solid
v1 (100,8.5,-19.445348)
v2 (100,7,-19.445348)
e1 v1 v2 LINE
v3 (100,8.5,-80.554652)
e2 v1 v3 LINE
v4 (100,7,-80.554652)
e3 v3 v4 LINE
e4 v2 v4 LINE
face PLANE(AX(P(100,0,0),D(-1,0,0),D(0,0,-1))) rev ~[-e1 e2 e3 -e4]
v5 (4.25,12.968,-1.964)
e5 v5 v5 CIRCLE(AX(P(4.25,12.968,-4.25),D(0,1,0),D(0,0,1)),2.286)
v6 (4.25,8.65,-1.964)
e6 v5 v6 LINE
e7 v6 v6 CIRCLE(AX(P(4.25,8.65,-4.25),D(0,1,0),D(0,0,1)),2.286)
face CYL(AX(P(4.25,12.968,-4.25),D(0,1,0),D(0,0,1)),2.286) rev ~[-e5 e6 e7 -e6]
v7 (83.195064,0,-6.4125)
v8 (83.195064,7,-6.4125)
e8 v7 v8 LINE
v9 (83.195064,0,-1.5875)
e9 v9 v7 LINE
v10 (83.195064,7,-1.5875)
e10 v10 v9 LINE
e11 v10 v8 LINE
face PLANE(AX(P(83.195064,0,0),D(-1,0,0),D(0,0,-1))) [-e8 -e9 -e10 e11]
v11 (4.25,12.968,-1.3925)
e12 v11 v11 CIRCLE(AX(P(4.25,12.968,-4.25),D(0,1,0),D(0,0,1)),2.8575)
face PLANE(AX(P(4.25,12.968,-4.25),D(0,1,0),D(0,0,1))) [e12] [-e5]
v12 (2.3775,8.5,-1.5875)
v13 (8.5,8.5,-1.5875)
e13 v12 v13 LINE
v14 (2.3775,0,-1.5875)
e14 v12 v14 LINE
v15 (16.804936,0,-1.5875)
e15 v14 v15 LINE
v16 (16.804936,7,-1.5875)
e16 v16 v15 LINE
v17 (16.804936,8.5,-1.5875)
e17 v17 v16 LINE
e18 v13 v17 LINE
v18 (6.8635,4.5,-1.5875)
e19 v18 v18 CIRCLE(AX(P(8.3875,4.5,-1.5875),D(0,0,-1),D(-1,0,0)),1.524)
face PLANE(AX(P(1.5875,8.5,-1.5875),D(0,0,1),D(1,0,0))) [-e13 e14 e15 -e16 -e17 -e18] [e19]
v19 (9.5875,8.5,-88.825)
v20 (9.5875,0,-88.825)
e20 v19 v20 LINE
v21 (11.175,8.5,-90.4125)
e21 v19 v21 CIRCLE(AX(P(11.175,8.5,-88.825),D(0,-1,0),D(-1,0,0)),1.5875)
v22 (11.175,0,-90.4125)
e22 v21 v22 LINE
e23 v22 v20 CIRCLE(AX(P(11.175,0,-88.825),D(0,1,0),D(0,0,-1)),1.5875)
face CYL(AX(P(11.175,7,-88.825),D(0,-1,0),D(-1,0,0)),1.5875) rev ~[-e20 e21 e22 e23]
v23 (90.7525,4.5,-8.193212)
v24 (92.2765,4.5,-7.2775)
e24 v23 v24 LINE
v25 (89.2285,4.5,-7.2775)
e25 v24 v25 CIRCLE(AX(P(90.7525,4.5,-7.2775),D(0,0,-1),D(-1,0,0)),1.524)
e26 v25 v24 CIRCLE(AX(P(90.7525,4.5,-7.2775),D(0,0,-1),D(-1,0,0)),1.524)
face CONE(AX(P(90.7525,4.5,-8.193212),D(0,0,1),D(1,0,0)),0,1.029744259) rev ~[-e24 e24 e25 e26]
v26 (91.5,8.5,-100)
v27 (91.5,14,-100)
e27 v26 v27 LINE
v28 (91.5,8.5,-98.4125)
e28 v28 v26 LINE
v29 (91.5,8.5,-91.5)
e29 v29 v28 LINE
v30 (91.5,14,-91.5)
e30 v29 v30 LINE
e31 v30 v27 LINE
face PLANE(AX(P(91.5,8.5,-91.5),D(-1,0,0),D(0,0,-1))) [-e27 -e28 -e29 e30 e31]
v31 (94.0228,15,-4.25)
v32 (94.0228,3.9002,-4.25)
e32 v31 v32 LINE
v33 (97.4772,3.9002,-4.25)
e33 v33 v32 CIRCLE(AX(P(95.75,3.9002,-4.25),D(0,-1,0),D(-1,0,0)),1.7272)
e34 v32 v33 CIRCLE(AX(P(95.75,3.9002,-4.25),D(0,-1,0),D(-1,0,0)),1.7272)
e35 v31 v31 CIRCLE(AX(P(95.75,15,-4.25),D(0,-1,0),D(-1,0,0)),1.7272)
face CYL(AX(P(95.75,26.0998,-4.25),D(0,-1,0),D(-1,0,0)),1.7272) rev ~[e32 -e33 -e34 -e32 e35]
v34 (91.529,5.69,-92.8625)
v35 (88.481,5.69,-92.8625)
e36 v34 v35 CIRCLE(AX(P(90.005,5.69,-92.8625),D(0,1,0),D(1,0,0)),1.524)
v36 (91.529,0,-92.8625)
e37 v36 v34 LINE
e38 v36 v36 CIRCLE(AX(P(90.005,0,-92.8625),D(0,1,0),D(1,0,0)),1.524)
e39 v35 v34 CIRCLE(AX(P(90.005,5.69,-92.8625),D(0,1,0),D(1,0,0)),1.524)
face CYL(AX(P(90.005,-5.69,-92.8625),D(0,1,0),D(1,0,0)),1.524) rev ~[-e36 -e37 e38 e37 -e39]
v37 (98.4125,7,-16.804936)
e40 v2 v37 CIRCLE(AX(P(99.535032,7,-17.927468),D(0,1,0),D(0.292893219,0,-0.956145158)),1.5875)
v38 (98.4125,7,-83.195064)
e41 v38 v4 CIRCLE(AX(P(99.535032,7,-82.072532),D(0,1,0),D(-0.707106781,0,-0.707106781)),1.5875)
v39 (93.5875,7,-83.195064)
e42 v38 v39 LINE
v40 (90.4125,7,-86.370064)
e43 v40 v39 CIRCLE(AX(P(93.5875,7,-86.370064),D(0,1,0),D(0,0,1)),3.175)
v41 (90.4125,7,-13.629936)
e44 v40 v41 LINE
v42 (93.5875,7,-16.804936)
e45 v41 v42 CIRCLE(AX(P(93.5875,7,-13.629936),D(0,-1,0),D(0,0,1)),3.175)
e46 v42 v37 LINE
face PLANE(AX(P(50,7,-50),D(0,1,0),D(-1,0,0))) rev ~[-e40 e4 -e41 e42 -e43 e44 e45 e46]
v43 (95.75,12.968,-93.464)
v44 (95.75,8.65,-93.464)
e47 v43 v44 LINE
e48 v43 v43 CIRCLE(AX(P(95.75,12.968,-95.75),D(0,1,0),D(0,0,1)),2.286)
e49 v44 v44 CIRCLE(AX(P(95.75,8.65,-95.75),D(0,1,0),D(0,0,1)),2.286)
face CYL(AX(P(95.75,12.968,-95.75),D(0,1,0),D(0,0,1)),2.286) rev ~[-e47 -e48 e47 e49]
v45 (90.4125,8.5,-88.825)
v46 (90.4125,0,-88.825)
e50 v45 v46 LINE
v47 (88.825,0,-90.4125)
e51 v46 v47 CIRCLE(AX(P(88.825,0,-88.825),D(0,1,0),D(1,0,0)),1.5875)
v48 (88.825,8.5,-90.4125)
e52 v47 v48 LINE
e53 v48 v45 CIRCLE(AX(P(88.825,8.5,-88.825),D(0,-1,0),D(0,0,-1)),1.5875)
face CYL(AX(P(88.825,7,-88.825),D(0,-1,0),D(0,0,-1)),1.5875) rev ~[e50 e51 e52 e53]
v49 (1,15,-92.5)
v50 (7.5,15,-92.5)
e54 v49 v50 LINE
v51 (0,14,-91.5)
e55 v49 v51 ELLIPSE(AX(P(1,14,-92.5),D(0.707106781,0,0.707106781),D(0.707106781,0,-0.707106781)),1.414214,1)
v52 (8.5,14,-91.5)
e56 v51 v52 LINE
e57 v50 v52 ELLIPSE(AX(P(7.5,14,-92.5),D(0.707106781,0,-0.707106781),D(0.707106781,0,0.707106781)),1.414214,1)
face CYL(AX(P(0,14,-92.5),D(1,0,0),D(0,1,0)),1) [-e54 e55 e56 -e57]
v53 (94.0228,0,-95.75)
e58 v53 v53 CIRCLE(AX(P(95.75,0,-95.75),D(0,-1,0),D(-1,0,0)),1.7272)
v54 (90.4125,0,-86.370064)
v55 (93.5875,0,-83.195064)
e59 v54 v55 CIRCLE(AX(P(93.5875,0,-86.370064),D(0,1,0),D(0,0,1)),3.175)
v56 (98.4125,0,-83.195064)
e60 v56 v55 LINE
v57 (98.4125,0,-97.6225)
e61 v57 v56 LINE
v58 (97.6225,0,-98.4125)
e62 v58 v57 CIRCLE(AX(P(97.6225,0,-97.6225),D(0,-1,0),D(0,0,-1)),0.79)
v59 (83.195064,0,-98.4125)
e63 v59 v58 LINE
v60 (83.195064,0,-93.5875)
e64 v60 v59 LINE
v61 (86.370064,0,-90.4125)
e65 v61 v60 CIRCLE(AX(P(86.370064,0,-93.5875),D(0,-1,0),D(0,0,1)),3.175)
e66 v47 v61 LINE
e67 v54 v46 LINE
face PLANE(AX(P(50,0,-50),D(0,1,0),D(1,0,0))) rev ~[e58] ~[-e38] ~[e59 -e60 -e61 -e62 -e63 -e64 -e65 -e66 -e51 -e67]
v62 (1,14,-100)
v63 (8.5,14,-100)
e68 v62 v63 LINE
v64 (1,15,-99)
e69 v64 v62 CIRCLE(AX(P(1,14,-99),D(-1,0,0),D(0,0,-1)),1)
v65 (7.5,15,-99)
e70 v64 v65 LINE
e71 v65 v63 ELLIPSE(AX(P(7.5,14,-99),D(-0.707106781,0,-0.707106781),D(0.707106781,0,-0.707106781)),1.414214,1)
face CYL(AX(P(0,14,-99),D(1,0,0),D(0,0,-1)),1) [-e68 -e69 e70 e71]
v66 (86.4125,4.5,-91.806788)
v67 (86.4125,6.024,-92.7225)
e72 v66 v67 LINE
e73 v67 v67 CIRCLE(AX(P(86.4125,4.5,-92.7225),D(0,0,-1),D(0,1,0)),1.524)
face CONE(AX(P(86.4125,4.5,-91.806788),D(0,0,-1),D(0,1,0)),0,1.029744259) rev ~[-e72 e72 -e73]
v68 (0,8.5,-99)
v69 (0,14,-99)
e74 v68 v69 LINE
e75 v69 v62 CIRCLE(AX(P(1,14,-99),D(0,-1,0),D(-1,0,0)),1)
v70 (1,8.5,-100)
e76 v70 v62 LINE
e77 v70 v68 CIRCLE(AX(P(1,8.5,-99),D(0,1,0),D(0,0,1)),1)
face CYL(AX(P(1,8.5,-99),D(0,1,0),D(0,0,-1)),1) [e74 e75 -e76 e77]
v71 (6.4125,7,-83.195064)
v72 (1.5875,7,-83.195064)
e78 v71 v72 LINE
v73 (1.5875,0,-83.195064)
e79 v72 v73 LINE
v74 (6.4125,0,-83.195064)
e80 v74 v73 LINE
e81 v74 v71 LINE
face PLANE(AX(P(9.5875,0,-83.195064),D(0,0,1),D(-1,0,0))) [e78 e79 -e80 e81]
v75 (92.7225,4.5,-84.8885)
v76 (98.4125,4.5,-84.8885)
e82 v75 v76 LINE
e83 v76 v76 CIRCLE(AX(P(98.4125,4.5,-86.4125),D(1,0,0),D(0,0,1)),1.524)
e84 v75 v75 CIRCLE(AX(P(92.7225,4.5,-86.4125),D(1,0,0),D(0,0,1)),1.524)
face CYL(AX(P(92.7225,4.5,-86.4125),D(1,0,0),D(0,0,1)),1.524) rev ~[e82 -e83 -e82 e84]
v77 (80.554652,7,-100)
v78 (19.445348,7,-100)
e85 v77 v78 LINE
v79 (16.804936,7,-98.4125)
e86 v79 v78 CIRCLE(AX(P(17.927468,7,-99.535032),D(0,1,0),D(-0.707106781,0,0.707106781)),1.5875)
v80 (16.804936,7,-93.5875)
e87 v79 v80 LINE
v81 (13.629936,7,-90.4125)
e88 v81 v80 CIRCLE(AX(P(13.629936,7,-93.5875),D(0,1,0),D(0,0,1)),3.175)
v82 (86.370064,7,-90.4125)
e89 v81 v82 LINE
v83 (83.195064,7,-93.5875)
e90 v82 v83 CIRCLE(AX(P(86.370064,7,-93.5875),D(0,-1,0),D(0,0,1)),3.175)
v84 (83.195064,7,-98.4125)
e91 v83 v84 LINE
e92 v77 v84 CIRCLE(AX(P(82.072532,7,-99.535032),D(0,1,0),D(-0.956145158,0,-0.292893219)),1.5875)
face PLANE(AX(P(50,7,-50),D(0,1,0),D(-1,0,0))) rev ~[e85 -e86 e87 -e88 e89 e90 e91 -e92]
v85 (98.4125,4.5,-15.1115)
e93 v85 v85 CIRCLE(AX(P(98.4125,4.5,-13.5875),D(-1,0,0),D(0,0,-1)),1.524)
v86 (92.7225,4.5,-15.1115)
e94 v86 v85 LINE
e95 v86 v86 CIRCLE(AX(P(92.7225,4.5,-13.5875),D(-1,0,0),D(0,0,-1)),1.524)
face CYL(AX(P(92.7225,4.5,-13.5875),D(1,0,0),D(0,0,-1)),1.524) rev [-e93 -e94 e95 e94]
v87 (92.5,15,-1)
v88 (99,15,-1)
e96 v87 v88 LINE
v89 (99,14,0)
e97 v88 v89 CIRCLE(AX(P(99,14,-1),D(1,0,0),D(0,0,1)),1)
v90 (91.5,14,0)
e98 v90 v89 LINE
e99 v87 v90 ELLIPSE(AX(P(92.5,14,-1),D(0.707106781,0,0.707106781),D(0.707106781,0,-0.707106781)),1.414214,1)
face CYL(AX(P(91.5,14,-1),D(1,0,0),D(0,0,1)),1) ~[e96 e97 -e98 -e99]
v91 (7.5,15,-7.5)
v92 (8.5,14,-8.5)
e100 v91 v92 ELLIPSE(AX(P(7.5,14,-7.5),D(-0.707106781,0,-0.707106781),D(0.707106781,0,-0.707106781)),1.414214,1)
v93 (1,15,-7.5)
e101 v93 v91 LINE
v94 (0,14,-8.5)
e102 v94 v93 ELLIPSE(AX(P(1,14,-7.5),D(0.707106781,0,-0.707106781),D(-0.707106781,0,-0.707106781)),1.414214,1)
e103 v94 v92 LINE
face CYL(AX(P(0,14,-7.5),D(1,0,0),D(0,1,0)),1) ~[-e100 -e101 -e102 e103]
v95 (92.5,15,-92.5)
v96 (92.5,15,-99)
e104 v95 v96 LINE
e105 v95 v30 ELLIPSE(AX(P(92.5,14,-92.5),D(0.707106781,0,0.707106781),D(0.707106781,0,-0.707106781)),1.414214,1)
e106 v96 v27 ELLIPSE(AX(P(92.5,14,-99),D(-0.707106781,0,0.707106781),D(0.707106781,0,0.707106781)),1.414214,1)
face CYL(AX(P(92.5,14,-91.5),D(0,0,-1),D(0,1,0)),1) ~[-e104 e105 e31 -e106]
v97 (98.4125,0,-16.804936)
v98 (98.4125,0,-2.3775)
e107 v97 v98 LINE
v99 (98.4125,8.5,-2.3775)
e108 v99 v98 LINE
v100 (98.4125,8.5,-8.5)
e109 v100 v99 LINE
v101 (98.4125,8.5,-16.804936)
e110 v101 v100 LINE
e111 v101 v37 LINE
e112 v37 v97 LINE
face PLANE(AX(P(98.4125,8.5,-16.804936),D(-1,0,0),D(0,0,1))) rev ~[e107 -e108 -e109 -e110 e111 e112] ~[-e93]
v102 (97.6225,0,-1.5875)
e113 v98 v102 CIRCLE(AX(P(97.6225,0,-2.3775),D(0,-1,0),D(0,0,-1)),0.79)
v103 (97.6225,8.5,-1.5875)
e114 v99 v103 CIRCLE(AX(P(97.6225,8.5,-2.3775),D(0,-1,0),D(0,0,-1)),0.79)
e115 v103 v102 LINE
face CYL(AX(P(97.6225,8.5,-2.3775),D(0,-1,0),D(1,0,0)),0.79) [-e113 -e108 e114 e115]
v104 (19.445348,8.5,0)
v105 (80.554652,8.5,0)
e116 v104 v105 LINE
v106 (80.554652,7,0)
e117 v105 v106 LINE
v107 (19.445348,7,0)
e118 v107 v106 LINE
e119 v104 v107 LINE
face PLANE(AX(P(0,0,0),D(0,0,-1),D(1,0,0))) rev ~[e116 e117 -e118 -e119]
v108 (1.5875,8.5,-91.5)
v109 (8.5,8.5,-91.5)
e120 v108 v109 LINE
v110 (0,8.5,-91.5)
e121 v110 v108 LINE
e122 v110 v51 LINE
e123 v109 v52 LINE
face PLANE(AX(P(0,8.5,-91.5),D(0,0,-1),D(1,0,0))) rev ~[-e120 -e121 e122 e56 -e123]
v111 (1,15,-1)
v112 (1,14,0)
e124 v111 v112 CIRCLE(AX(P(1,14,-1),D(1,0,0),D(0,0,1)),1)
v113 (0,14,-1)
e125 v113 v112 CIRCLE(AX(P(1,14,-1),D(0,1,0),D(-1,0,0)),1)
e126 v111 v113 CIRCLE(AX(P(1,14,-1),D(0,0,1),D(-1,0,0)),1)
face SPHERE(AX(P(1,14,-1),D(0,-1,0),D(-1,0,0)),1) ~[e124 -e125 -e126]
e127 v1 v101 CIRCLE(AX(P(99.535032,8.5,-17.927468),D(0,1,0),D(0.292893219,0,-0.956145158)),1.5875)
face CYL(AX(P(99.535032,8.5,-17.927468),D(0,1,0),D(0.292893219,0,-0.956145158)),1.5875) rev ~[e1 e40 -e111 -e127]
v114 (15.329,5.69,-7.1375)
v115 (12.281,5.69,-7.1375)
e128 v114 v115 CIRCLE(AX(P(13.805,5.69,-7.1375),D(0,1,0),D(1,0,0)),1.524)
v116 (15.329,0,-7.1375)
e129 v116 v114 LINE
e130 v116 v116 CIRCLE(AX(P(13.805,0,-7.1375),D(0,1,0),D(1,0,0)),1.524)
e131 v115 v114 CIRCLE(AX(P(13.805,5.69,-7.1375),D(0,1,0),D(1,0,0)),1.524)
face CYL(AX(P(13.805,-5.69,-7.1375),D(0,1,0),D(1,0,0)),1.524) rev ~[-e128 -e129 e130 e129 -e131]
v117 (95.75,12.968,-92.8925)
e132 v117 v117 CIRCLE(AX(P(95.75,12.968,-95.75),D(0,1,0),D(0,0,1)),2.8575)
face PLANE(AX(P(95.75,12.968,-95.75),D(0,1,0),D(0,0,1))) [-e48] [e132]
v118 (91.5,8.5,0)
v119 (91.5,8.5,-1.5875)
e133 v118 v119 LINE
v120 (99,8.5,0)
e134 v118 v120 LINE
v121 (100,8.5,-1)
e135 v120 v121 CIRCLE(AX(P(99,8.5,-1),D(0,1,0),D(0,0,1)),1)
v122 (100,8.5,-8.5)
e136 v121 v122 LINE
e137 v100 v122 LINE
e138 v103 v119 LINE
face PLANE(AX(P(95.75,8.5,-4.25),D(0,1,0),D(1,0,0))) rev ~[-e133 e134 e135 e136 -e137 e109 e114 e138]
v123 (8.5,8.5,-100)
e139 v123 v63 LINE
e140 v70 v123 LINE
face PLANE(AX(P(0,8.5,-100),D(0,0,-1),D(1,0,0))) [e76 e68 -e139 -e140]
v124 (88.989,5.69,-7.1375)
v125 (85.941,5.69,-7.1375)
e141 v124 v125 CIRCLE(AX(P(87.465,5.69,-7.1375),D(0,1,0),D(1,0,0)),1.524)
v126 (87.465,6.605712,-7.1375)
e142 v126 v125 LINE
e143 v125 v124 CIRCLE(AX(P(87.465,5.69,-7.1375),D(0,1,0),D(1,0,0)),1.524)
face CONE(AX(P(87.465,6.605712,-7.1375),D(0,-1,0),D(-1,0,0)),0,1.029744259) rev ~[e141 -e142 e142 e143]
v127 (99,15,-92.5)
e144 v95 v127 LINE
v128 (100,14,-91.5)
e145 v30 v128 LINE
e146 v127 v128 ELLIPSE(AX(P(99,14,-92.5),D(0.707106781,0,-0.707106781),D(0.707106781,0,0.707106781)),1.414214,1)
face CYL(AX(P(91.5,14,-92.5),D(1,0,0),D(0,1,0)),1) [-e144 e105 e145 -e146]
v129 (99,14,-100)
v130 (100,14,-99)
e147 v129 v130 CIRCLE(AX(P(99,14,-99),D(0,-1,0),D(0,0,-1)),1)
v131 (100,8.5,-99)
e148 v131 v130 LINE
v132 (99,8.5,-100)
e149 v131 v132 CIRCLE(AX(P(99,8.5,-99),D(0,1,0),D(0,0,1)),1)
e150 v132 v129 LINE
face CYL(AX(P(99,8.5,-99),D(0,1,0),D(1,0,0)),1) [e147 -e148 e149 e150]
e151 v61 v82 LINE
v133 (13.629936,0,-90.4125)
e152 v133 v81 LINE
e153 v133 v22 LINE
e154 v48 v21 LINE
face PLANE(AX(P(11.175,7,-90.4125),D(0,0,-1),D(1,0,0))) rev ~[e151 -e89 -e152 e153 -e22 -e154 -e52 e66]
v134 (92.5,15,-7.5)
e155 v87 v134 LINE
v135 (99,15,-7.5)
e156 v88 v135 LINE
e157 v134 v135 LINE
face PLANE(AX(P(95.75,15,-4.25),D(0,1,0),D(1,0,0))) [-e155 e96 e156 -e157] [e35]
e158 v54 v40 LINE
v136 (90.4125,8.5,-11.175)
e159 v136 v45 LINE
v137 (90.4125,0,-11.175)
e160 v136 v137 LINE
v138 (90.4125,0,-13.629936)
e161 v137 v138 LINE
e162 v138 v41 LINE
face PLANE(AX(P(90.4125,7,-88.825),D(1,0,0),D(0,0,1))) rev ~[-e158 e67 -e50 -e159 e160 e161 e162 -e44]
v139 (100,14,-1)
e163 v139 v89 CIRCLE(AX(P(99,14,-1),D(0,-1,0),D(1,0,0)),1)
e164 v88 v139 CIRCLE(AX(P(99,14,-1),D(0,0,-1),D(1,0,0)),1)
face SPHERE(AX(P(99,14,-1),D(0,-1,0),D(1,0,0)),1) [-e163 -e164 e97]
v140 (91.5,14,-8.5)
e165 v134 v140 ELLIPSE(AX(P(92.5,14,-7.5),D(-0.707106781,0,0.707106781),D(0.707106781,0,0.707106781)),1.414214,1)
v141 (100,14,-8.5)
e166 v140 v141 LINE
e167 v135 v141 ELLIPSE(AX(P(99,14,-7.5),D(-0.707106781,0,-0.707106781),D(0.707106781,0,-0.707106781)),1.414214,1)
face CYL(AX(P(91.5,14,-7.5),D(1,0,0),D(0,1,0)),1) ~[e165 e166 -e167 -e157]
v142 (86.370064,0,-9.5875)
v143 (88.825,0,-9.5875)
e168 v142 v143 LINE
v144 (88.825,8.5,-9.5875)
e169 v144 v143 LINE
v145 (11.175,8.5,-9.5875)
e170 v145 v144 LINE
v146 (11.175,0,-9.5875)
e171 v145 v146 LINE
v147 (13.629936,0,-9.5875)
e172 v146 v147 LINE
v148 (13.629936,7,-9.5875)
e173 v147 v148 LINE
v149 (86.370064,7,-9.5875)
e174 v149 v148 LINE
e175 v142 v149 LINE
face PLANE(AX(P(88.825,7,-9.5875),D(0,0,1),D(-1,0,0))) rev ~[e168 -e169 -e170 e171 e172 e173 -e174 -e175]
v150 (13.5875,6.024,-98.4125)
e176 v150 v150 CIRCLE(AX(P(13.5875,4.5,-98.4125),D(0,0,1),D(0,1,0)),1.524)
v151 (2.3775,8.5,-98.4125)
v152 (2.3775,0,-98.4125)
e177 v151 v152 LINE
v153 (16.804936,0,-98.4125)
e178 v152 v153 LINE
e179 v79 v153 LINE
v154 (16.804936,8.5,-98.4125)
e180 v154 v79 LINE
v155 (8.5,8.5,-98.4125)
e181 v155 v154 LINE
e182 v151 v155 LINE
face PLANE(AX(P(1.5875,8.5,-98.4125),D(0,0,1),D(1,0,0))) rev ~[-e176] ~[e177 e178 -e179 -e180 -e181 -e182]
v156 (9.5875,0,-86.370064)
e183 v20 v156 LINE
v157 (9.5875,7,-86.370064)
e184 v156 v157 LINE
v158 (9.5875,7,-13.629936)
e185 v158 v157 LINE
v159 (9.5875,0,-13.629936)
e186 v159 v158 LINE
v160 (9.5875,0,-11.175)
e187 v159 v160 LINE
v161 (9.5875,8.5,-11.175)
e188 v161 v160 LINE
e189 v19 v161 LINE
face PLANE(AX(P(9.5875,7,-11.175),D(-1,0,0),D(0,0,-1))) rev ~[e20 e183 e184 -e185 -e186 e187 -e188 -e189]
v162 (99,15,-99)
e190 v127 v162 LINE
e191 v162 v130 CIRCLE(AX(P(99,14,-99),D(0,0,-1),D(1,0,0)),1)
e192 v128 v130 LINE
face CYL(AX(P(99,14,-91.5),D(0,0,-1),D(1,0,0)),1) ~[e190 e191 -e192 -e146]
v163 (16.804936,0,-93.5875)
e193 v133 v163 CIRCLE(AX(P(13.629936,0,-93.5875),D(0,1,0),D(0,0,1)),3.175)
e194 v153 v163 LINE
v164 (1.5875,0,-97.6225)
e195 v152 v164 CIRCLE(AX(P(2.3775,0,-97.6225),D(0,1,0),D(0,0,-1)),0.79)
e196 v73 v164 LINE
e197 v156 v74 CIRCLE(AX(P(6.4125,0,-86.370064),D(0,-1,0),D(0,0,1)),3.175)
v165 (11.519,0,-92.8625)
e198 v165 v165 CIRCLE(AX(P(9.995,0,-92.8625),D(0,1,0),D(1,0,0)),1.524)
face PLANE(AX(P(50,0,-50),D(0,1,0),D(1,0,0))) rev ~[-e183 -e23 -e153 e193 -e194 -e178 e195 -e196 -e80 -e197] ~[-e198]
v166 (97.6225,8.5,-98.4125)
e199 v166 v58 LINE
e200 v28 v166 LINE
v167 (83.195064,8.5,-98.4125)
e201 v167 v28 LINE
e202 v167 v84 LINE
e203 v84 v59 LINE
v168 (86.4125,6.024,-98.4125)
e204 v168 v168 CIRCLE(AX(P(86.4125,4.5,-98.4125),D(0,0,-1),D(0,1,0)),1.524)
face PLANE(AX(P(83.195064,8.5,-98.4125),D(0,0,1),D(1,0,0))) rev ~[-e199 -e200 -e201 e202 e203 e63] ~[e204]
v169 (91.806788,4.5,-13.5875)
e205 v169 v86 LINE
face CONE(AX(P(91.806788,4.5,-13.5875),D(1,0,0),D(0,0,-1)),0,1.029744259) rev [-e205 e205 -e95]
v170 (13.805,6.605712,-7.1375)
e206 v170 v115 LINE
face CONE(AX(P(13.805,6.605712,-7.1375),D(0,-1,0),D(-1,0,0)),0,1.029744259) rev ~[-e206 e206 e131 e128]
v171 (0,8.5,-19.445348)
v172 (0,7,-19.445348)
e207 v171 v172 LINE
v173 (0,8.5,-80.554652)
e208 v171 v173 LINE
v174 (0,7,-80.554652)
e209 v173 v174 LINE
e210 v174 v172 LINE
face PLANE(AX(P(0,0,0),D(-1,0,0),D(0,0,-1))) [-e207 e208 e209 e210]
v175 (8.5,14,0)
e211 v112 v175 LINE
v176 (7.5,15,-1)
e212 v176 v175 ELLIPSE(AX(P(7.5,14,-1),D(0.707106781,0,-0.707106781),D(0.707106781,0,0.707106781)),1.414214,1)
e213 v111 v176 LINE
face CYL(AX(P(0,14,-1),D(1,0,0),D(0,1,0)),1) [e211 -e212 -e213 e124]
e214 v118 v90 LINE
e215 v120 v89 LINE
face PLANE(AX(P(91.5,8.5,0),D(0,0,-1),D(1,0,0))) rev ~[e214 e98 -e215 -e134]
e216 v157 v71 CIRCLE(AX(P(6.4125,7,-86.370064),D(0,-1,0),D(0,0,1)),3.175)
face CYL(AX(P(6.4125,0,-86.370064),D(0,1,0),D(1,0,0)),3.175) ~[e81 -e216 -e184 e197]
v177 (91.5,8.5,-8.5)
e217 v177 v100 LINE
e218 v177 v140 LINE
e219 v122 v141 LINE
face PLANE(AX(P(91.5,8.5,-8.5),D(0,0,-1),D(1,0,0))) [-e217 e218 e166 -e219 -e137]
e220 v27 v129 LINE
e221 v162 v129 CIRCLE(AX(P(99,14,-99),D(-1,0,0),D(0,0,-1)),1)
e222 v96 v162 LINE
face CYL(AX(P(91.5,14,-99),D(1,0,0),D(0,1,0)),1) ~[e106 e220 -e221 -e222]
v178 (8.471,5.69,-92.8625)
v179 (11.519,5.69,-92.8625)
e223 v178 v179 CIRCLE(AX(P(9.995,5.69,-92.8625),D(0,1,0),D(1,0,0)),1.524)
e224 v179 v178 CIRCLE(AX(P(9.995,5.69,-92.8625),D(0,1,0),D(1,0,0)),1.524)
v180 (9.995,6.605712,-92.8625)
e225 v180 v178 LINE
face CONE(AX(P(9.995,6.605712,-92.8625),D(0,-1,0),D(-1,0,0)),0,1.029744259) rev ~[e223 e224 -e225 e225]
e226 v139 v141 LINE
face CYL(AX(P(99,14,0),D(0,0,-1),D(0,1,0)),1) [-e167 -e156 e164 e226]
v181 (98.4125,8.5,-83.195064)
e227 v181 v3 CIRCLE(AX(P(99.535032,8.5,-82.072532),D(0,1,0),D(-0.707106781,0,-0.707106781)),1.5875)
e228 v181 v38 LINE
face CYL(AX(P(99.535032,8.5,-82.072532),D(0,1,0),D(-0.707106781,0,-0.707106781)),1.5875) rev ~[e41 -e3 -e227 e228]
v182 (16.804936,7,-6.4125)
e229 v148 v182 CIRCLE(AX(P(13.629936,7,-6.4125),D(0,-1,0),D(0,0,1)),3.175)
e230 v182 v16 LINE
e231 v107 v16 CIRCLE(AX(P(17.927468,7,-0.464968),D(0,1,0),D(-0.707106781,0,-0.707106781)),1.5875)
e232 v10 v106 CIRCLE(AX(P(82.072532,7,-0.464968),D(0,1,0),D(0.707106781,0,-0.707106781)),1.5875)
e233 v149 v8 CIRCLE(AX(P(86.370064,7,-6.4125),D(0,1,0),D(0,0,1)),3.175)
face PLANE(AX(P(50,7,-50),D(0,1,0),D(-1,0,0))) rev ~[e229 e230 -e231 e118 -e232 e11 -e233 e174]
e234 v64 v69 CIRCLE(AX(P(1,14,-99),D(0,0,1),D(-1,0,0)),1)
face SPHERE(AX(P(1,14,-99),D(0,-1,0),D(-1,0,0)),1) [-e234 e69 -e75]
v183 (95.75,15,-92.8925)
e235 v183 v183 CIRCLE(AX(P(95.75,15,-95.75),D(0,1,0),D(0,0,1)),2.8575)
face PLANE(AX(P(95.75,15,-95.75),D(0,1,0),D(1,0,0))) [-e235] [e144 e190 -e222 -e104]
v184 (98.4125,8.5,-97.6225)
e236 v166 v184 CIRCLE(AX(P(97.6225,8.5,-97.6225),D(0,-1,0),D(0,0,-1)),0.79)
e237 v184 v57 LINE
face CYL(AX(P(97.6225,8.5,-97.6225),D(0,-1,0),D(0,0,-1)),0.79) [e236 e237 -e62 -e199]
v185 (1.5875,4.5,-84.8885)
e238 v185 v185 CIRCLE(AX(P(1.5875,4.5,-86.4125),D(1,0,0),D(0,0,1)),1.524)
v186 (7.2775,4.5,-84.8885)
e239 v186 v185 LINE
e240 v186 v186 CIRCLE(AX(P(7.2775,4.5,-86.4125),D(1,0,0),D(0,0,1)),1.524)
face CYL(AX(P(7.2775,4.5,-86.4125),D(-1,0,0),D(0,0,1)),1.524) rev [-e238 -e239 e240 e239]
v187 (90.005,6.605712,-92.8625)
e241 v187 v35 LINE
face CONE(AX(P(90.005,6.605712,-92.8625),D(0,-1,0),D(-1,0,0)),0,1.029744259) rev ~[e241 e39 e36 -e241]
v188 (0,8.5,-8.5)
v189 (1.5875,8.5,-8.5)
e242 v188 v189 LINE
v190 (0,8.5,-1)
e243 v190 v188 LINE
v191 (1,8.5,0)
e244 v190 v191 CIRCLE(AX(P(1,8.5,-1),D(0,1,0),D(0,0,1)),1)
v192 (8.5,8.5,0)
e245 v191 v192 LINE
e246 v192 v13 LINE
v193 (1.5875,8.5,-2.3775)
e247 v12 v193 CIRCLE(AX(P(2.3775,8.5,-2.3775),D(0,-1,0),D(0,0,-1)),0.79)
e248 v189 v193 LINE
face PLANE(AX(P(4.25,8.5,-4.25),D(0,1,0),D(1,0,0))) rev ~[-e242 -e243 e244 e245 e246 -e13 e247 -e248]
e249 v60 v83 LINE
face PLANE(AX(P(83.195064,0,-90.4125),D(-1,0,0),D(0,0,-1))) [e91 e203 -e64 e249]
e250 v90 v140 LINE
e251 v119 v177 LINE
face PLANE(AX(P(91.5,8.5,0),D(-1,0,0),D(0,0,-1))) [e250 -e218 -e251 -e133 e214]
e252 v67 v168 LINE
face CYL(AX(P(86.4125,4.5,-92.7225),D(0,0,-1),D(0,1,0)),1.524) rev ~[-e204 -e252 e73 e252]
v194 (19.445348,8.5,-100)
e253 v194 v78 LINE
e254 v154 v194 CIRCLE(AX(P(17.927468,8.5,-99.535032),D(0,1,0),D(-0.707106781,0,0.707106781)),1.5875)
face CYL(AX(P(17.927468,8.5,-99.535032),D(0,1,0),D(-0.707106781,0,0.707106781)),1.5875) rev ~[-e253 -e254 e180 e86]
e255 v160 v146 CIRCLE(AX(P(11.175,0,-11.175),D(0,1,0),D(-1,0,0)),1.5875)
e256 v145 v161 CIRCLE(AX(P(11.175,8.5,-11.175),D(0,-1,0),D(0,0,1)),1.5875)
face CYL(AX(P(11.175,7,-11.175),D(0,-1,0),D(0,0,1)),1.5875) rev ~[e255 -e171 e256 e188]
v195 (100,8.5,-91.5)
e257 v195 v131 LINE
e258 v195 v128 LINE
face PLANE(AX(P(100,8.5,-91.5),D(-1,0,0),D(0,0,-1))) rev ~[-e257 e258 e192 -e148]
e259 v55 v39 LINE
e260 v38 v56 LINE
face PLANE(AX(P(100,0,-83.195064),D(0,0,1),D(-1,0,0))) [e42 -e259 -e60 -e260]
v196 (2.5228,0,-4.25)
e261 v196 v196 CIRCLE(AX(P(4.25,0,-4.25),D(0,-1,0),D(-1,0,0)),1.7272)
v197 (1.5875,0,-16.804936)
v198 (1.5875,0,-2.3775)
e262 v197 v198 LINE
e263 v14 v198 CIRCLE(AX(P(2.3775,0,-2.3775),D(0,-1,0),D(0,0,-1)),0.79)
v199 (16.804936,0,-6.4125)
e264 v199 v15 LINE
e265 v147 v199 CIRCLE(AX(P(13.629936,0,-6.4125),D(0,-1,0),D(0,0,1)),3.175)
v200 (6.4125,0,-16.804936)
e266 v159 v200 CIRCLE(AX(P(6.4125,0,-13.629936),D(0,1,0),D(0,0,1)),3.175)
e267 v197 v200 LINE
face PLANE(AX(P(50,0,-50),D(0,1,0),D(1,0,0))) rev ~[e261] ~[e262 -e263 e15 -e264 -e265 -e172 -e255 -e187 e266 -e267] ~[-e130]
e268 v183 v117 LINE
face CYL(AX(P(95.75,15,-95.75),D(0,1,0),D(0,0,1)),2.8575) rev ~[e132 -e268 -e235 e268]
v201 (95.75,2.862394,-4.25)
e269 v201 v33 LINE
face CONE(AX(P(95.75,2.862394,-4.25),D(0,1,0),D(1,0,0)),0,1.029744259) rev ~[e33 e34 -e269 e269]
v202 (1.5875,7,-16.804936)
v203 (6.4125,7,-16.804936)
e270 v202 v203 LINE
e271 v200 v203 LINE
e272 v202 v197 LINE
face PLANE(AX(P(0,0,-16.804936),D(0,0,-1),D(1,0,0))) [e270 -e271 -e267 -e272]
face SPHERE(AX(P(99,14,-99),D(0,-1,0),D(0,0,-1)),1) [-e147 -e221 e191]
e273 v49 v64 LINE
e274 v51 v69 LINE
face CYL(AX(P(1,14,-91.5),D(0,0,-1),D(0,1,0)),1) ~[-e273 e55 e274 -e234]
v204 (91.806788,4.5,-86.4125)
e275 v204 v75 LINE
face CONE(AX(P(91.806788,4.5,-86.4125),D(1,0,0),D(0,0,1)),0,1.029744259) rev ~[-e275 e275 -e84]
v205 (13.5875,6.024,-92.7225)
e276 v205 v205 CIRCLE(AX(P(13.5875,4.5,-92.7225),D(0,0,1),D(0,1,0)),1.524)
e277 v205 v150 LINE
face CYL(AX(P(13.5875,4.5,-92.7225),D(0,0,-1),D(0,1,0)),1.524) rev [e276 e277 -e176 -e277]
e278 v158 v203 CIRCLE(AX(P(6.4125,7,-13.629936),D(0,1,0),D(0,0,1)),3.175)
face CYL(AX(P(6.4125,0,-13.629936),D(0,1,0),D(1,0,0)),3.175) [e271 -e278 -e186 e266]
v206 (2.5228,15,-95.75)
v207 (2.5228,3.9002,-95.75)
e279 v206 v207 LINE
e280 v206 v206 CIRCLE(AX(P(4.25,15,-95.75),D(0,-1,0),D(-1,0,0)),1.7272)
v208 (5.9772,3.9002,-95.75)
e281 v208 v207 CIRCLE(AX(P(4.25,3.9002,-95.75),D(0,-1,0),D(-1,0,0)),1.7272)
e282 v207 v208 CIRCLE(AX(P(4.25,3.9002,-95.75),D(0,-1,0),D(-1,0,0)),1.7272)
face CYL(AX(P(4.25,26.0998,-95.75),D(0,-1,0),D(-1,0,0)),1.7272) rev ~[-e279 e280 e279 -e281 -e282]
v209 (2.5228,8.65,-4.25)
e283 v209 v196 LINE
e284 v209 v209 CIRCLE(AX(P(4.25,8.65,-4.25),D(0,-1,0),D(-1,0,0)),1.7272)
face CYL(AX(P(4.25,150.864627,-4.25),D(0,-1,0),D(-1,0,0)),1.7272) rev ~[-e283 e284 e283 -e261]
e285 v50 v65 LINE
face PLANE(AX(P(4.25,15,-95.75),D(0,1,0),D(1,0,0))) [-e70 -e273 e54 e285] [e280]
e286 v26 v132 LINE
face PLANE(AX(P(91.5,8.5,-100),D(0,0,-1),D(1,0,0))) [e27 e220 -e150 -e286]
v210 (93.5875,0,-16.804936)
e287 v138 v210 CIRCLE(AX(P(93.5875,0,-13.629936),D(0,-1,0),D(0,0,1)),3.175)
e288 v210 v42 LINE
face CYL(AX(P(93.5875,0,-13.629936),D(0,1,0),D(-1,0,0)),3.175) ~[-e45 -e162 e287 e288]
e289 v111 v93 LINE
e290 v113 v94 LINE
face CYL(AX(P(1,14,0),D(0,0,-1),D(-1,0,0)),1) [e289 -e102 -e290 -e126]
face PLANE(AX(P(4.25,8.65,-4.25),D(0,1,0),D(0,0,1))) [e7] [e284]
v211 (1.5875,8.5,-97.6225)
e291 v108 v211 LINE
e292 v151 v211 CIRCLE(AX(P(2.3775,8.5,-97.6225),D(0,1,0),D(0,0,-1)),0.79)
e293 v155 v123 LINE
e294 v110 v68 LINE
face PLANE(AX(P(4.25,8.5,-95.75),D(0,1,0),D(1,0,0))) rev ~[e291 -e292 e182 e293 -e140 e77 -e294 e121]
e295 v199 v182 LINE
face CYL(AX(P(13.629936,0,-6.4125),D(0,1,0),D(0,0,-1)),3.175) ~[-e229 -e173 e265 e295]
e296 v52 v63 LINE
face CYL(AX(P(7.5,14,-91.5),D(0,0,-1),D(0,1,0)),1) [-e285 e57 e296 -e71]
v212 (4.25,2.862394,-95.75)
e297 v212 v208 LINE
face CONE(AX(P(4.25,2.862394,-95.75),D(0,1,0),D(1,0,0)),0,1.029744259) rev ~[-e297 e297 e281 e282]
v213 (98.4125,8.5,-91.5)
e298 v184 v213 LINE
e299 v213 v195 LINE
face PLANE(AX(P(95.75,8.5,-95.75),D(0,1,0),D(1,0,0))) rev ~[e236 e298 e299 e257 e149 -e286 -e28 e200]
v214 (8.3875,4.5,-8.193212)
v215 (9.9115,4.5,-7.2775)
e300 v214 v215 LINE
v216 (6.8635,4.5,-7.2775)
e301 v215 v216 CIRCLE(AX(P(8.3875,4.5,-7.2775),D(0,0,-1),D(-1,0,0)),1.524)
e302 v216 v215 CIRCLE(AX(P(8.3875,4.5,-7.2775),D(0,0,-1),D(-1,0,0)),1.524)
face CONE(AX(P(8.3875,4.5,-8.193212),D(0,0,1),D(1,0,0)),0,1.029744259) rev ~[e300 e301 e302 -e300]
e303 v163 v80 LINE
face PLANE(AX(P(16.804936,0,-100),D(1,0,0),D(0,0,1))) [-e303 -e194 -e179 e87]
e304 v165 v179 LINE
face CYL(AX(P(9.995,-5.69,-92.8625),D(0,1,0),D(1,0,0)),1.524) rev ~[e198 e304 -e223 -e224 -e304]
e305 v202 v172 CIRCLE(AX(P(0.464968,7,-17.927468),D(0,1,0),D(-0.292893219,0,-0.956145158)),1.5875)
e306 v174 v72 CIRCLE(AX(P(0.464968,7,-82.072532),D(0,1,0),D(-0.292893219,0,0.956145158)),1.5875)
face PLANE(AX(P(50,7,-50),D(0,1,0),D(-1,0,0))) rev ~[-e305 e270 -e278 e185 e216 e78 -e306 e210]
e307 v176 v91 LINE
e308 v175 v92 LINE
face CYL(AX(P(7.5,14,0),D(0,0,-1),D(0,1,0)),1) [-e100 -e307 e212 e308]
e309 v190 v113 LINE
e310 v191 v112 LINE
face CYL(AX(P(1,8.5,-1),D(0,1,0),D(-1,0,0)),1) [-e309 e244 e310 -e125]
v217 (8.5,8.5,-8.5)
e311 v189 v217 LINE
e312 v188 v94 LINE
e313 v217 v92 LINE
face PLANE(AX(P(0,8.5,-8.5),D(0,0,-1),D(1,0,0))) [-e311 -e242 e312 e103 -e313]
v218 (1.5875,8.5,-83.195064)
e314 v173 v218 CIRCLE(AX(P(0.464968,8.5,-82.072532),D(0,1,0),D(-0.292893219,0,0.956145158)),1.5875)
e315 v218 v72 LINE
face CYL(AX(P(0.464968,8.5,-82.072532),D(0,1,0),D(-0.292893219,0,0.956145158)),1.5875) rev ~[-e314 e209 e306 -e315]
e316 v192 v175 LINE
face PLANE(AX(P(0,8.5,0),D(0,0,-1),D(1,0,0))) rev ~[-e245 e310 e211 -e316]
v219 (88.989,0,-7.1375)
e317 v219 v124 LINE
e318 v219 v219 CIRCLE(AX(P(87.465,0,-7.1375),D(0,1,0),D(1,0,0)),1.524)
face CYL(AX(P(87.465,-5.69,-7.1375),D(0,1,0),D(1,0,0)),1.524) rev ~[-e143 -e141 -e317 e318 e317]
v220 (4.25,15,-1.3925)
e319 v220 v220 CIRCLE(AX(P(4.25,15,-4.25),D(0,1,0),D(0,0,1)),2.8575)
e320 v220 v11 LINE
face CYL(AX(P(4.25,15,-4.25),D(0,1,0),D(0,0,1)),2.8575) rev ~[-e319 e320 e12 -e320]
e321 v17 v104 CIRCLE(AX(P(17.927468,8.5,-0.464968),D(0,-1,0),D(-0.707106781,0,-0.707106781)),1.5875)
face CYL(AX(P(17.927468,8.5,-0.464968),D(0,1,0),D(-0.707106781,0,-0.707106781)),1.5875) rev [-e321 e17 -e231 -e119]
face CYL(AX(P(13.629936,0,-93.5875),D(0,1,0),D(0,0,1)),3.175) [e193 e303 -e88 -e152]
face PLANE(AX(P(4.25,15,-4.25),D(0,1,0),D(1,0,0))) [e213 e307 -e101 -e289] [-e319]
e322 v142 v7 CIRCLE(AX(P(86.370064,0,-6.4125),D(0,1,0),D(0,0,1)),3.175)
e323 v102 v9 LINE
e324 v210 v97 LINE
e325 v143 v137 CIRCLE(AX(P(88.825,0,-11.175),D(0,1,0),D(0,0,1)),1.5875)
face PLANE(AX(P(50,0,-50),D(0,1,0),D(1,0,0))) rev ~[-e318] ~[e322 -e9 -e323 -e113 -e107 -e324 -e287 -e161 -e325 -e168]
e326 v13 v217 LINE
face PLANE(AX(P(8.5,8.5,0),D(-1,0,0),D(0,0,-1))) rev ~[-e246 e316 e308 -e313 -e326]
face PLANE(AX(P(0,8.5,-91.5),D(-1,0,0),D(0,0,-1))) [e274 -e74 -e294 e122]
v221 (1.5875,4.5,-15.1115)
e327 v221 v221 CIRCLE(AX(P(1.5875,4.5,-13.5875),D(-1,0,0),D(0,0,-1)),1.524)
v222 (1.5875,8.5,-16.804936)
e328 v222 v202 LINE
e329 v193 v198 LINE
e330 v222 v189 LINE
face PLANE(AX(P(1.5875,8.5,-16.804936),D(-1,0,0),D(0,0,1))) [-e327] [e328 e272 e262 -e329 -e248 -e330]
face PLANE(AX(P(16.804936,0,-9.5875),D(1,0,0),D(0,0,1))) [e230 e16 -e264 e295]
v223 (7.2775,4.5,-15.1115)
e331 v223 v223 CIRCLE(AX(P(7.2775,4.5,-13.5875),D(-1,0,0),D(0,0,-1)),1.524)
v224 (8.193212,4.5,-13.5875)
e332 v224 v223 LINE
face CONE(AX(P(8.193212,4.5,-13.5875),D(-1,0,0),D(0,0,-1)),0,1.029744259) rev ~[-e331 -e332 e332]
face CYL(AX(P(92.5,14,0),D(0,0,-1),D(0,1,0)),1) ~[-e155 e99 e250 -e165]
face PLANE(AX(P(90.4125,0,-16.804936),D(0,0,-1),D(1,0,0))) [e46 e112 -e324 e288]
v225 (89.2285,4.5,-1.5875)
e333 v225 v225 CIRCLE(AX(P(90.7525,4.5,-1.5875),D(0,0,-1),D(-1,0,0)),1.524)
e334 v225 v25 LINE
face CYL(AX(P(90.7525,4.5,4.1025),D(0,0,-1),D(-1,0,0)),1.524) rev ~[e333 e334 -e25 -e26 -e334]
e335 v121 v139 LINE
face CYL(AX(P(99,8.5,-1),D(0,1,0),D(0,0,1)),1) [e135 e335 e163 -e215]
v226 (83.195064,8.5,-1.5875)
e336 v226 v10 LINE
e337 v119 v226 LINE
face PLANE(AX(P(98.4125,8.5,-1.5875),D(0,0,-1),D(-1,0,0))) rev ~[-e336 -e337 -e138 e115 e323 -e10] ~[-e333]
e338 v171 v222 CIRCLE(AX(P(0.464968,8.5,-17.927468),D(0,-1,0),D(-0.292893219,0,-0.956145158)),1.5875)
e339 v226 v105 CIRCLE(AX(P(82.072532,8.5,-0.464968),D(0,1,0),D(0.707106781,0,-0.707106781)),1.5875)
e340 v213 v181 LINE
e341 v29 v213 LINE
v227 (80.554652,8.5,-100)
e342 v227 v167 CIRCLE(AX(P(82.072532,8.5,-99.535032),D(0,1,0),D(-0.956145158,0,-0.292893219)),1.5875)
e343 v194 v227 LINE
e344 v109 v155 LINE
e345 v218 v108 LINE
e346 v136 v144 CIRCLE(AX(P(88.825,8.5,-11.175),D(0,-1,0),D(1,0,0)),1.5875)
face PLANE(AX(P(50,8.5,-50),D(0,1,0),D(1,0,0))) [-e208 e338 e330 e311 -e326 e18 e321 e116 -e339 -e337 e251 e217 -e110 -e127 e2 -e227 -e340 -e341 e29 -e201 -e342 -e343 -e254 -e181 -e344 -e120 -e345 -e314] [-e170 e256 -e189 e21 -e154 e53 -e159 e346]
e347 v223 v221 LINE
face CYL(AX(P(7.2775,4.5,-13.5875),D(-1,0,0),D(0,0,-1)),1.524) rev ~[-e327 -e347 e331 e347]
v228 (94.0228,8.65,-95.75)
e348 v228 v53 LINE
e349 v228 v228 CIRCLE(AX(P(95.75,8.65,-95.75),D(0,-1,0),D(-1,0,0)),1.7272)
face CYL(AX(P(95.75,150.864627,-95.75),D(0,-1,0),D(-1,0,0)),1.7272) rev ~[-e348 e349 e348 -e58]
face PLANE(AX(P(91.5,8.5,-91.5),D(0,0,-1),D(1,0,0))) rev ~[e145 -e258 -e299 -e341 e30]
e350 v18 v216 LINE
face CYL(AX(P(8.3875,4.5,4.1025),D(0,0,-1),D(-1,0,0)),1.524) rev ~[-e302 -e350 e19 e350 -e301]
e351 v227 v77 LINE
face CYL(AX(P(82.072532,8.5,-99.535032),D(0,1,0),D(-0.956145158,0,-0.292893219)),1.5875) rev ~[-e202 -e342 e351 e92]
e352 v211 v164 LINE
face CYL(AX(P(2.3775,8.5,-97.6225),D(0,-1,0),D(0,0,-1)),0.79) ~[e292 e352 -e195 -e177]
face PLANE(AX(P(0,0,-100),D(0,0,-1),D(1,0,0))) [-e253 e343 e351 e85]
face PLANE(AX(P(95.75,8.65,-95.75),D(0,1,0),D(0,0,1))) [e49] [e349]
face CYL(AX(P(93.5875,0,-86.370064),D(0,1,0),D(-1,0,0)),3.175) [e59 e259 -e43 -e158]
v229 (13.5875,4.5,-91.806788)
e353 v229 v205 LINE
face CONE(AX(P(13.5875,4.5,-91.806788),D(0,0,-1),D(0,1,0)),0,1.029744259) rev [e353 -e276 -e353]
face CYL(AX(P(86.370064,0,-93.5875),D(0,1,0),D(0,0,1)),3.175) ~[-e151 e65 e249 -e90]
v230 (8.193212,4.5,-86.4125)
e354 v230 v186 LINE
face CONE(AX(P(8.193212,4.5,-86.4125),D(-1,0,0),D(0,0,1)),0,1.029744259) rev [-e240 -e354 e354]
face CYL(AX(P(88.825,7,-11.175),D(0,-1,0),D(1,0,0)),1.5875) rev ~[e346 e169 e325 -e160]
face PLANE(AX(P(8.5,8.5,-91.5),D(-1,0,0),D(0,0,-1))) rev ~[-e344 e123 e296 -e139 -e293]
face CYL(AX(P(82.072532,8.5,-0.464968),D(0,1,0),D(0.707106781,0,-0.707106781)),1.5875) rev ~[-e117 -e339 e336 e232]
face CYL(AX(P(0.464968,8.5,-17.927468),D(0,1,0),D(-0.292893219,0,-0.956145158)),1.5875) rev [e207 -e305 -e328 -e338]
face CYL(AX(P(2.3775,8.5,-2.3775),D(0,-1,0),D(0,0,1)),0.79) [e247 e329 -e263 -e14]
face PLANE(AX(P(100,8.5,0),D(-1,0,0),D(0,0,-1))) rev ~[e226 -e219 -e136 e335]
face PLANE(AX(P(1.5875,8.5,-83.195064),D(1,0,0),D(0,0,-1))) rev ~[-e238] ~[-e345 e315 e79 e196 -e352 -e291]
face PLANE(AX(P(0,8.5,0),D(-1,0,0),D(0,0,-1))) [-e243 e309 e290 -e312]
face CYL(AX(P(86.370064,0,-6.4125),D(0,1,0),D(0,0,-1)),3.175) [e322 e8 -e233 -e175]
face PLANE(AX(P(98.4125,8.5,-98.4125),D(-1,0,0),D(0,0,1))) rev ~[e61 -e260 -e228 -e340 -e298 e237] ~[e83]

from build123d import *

# Parameters (mm, degrees)
SKETCH1_W                         = 100
SKETCH1_H                         = 100
BOSS_EXTRUDE1_DEPTH               = 8.5
CUT_EXTRUDE1_DEPTH                = 142.676568281
SKETCH3_W                         = 8.5
SKETCH3_H                         = 8.5
BOSS_EXTRUDE2_DEPTH               = 6.5
TAP_DRILL_FOR_4_HELICOIL5_D       = 3.048
TAP_DRILL_FOR_4_HELICOIL5_DEPTH   = 5.69
TAP_DRILL_FOR_4_HELICOIL5_TIP     = 0.915711583
TAP_DRILL_FOR_4_HELICOIL5_4_D     = 3.048
TAP_DRILL_FOR_4_HELICOIL5_4_DEPTH = 5.69
TAP_DRILL_FOR_4_HELICOIL5_4_TIP   = 0.915711583
CUT_EXTRUDE2_DEPTH                = 7
CUT_EXTRUDE3_DEPTH                = 142.647449677
FILLET1_R                         = 1
FILLET2_R                         = 3.175
FILLET3_R                         = 0.79
TAP_DRILL_FOR_4_HELICOIL5_5_D     = 3.048
TAP_DRILL_FOR_4_HELICOIL5_5_DEPTH = 5.69
TAP_DRILL_FOR_4_HELICOIL5_5_TIP   = 0.915711583
TAP_DRILL_FOR_8_32_TAP1_D         = 3.4544
TAP_DRILL_FOR_8_32_TAP1_DEPTH     = 11.0998
TAP_DRILL_FOR_8_32_TAP1_TIP       = 1.037806461
SKETCH27_R                        = 2.8575
CUT_EXTRUDE4_DEPTH                = 2.032
SKETCH28_R                        = 2.286
CUT_EXTRUDE5_DEPTH                = 4.318
F_4_CLEARANCE_HOLE1_D             = 3.4544


with BuildPart() as part:
    # Sketch1 → Boss-Extrude1 (new body)
    with BuildSketch(Plane(origin=(0, 0, 0), x_dir=(1, 0, 0), z_dir=(0, 1, 0))):
        with Locations((50, 50)):
            Rectangle(SKETCH1_W, SKETCH1_H)
    extrude(amount=BOSS_EXTRUDE1_DEPTH)

    # Sketch2 → Cut-Extrude1 (cut, through all)
    with BuildSketch(Plane(origin=(0, 8.5, 0), x_dir=(1, 0, 0), z_dir=(0, 1, 0))):
        with BuildLine():
            Line((19.05, 100), (0, 100))
            Line((0, 100), (0, 83.590412453))
            Line((0, 83.590412453), (0, 80.95))
            Line((0, 80.95), (0, 80.554651577))
            ThreePointArc((0, 80.554651577), (1.825498063, 81.254538032), (1.5875, 83.19506403))
            Line((1.5875, 83.19506403), (1.5875, 98.4125))
            Line((1.5875, 98.4125), (16.80493597, 98.4125))
            ThreePointArc((16.80493597, 98.4125), (18.745461968, 98.174501937), (19.445348423, 100))
            Line((19.445348423, 100), (19.05, 100))
        make_face()
        with BuildLine():
            Line((80.95, 100), (80.554651577, 100))
            ThreePointArc((80.554651577, 100), (81.254538032, 98.174501937), (83.19506403, 98.4125))
            Line((83.19506403, 98.4125), (98.4125, 98.4125))
            Line((98.4125, 98.4125), (98.4125, 83.19506403))
            ThreePointArc((98.4125, 83.19506403), (98.174501937, 81.254538032), (100, 80.554651577))
            Line((100, 80.554651577), (100, 80.95))
            Line((100, 80.95), (100, 83.590412453))
            Line((100, 83.590412453), (100, 100))
            Line((100, 100), (80.95, 100))
        make_face()
        with BuildLine():
            Line((1.5875, 1.5875), (16.80493597, 1.5875))
            ThreePointArc((16.80493597, 1.5875), (18.745461968, 1.825498063), (19.445348423, 0))
            Line((19.445348423, 0), (19.05, 0))
            Line((19.05, 0), (0, 0))
            Line((0, 0), (0, 19.05))
            Line((0, 19.05), (0, 19.445348423))
            ThreePointArc((0, 19.445348423), (1.825498063, 18.745461968), (1.5875, 16.80493597))
            Line((1.5875, 16.80493597), (1.5875, 1.5875))
        make_face()
        with BuildLine():
            Line((98.4125, 1.5875), (83.19506403, 1.5875))
            ThreePointArc((83.19506403, 1.5875), (81.254538032, 1.825498063), (80.554651577, 0))
            Line((80.554651577, 0), (80.95, 0))
            Line((80.95, 0), (100, 0))
            Line((100, 0), (100, 19.05))
            Line((100, 19.05), (100, 19.445348423))
            ThreePointArc((100, 19.445348423), (98.174501937, 18.745461968), (98.4125, 16.80493597))
            Line((98.4125, 16.80493597), (98.4125, 1.5875))
        make_face()
    extrude(amount=-CUT_EXTRUDE1_DEPTH, mode=Mode.SUBTRACT)

    # Sketch3 → Boss-Extrude2 (add)
    with BuildSketch(Plane(origin=(0, 8.5, 0), x_dir=(1, 0, 0), z_dir=(0, 1, 0))):
        with Locations((4.25, 4.25)):
            Rectangle(SKETCH3_W, SKETCH3_H)
        with Locations((95.75, 4.25)):
            Rectangle(SKETCH3_W, SKETCH3_H)
        with Locations((95.75, 95.75)):
            Rectangle(SKETCH3_W, SKETCH3_H)
        with Locations((4.25, 95.75)):
            Rectangle(SKETCH3_W, SKETCH3_H)
    extrude(amount=BOSS_EXTRUDE2_DEPTH)

    # Tap Drill for _4 Helicoil5
    with Locations(Plane(origin=(0, 0, 0), x_dir=(-1, 0, 0), z_dir=(0, -1, 0))):
        with Locations((-87.465, 7.1375), (-90.005, 92.8625), (-13.805, 7.1375), (-9.995, 92.8625)):
            Hole(TAP_DRILL_FOR_4_HELICOIL5_D / 2, depth=TAP_DRILL_FOR_4_HELICOIL5_DEPTH)
            with Locations((0, 0, -(TAP_DRILL_FOR_4_HELICOIL5_DEPTH + TAP_DRILL_FOR_4_HELICOIL5_TIP / 2))):  # 118° drill point
                Cone(0, TAP_DRILL_FOR_4_HELICOIL5_D / 2, TAP_DRILL_FOR_4_HELICOIL5_TIP, mode=Mode.SUBTRACT)

    # Sketch18 → Tap Drill for _4 Helicoil5 2 (revolve, cut)
    with BuildSketch(Plane(origin=(1.5875, 4.5, -86.4125), x_dir=(0, 0, 1), z_dir=(0, 1, 0))):
        Polygon((0, 0), (0, 6.605711583), (1.524, 5.69), (1.524, 0), align=None)
    tap_drill_for_4_helicoil5_2 = revolve(axis=Axis((-4.7625, 4.5, -86.4125), (1, 0, 0)), mode=Mode.SUBTRACT)

    # Mirror1: Tap Drill for _4 Helicoil5 2 across plane
    add(tap_drill_for_4_helicoil5_2.mirror(Plane(origin=(0, 0, -50), x_dir=(1, 0, 0), z_dir=(0, 0, -1))), mode=Mode.SUBTRACT)

    # Mirror2: Tap Drill for _4 Helicoil5 2 across plane
    add(tap_drill_for_4_helicoil5_2.mirror(Plane.ZY.offset(-50)), mode=Mode.SUBTRACT)

    # Mirror2 copy 1 sketch → Mirror2 copy 1 (revolve, cut)
    with BuildSketch(Plane(origin=(98.4125, 4.5, -13.5875), x_dir=(0, 0, -1), z_dir=(0, 1, 0))):
        Polygon((0, 0), (0, 6.605711583), (1.524, 5.69), (1.524, 0), align=None)
    revolve(axis=Axis((104.7625, 4.5, -13.5875), (-1, 0, 0)), mode=Mode.SUBTRACT)

    # Sketch21 → Tap Drill for _4 Helicoil5 3 (revolve, cut)
    with BuildSketch(Plane(origin=(13.5875, 4.5, -98.4125), x_dir=(0, 1, 0), z_dir=(1, 0, 0))):
        Polygon((0, 0), (0, 6.605711583), (1.524, 5.69), (1.524, 0), align=None)
    tap_drill_for_4_helicoil5_3 = revolve(axis=Axis((13.5875, 4.5, -104.7625), (0, 0, 1)), mode=Mode.SUBTRACT)

    # Mirror3: Tap Drill for _4 Helicoil5 3 across plane
    add(tap_drill_for_4_helicoil5_3.mirror(Plane.ZY.offset(-50)), mode=Mode.SUBTRACT)

    # Tap Drill for _4 Helicoil5 4
    with Locations(Plane.XY.offset(-1.5875)):
        with Locations((90.7525, 4.5)):
            Hole(TAP_DRILL_FOR_4_HELICOIL5_4_D / 2, depth=TAP_DRILL_FOR_4_HELICOIL5_4_DEPTH)
            with Locations((0, 0, -(TAP_DRILL_FOR_4_HELICOIL5_4_DEPTH + TAP_DRILL_FOR_4_HELICOIL5_4_TIP / 2))):  # 118° drill point
                Cone(0, TAP_DRILL_FOR_4_HELICOIL5_4_D / 2, TAP_DRILL_FOR_4_HELICOIL5_4_TIP, mode=Mode.SUBTRACT)

    # Sketch22 → Cut-Extrude2 (cut)
    with BuildSketch(Plane.XZ):
        with BuildLine():
            Line((83.19506403, -9.5875), (88.825, -9.5875))
            ThreePointArc((88.825, -9.5875), (89.947532015, -10.052467985), (90.4125, -11.175))
            Line((90.4125, -11.175), (90.4125, -16.80493597))
            Line((90.4125, -16.80493597), (98.4125, -16.80493597))
            Line((98.4125, -16.80493597), (100, -16.80493597))
            Line((100, -16.80493597), (100, -83.19506403))
            Line((100, -83.19506403), (98.4125, -83.19506403))
            Line((98.4125, -83.19506403), (90.4125, -83.19506403))
            Line((90.4125, -83.19506403), (90.4125, -88.825))
            ThreePointArc((90.4125, -88.825), (89.947532015, -89.947532015), (88.825, -90.4125))
            Line((88.825, -90.4125), (83.19506403, -90.4125))
            Line((83.19506403, -90.4125), (83.19506403, -98.4125))
            Line((83.19506403, -98.4125), (83.19506403, -100))
            Line((83.19506403, -100), (16.80493597, -100))
            Line((16.80493597, -100), (16.80493597, -98.4125))
            Line((16.80493597, -98.4125), (16.80493597, -90.4125))
            Line((16.80493597, -90.4125), (11.175, -90.4125))
            ThreePointArc((11.175, -90.4125), (10.052467985, -89.947532015), (9.5875, -88.825))
            Line((9.5875, -88.825), (9.5875, -83.19506403))
            Line((9.5875, -83.19506403), (1.5875, -83.19506403))
            Line((1.5875, -83.19506403), (0, -83.19506403))
            Line((0, -83.19506403), (0, -16.80493597))
            Line((0, -16.80493597), (1.5875, -16.80493597))
            Line((1.5875, -16.80493597), (9.5875, -16.80493597))
            Line((9.5875, -16.80493597), (9.5875, -11.175))
            ThreePointArc((9.5875, -11.175), (10.052467985, -10.052467985), (11.175, -9.5875))
            Line((11.175, -9.5875), (16.80493597, -9.5875))
            Line((16.80493597, -9.5875), (16.80493597, -1.5875))
            Line((16.80493597, -1.5875), (16.80493597, 0))
            Line((16.80493597, 0), (83.19506403, 0))
            Line((83.19506403, 0), (83.19506403, -1.5875))
            Line((83.19506403, -1.5875), (83.19506403, -9.5875))
        make_face()
    extrude(amount=-CUT_EXTRUDE2_DEPTH, mode=Mode.SUBTRACT)

    # Sketch23 → Cut-Extrude3 (cut, through all)
    with BuildSketch(Plane.XZ.offset(-7)):
        with BuildLine():
            Line((11.175, -90.4125), (88.825, -90.4125))
            ThreePointArc((88.825, -90.4125), (89.947532015, -89.947532015), (90.4125, -88.825))
            Line((90.4125, -88.825), (90.4125, -11.175))
            ThreePointArc((90.4125, -11.175), (89.947532015, -10.052467985), (88.825, -9.5875))
            Line((88.825, -9.5875), (11.175, -9.5875))
            ThreePointArc((11.175, -9.5875), (10.052467985, -10.052467985), (9.5875, -11.175))
            Line((9.5875, -11.175), (9.5875, -88.825))
            ThreePointArc((9.5875, -88.825), (10.052467985, -89.947532015), (11.175, -90.4125))
        make_face()
    extrude(amount=-CUT_EXTRUDE3_DEPTH, mode=Mode.SUBTRACT)

    # Fillet1
    fillet1_edges = [part.edges().sort_by_distance(p)[0] for p in [
        (0, 11.75, 0),
        (0, 15, -4.25),
        (4.25, 15, 0),
        (8.5, 15, -4.25),
        (4.25, 15, -8.5),
        (100, 11.75, 0),
        (100, 15, -4.25),
        (95.75, 15, -8.5),
        (91.5, 15, -4.25),
        (95.75, 15, 0),
        (100, 11.75, -100),
        (95.75, 15, -100),
        (91.5, 15, -95.75),
        (95.75, 15, -91.5),
        (100, 15, -95.75),
        (0, 11.75, -100),
        (0, 15, -95.75),
        (4.25, 15, -91.5),
        (8.5, 15, -95.75),
        (4.25, 15, -100),
    ]]
    fillet(fillet1_edges, radius=FILLET1_R)

    # Fillet2
    fillet2_edges = [part.edges().sort_by_distance(p)[0] for p in [
        (9.5875, 3.5, -83.19506403),
        (90.4125, 3.5, -16.80493597),
        (90.4125, 3.5, -83.19506403),
        (83.19506403, 3.5, -90.4125),
        (16.80493597, 3.5, -90.4125),
        (9.5875, 3.5, -16.80493597),
        (16.80493597, 3.5, -9.5875),
        (83.19506403, 3.5, -9.5875),
    ]]
    fillet(fillet2_edges, radius=FILLET2_R)

    # Fillet3
    fillet3_edges = [part.edges().sort_by_distance(p)[0] for p in [
        (98.4125, 4.25, -98.4125),
        (1.5875, 4.25, -1.5875),
        (98.4125, 4.25, -1.5875),
        (1.5875, 4.25, -98.4125),
    ]]
    fillet(fillet3_edges, radius=FILLET3_R)

    # Tap Drill for _4 Helicoil5 5
    with Locations(Plane.XY.offset(-1.5875)):
        with Locations((8.3875, 4.5)):
            Hole(TAP_DRILL_FOR_4_HELICOIL5_5_D / 2, depth=TAP_DRILL_FOR_4_HELICOIL5_5_DEPTH)
            with Locations((0, 0, -(TAP_DRILL_FOR_4_HELICOIL5_5_DEPTH + TAP_DRILL_FOR_4_HELICOIL5_5_TIP / 2))):  # 118° drill point
                Cone(0, TAP_DRILL_FOR_4_HELICOIL5_5_D / 2, TAP_DRILL_FOR_4_HELICOIL5_5_TIP, mode=Mode.SUBTRACT)

    # Tap Drill for #8-32 Tap1
    with Locations(Plane(origin=(0, 15, 0), x_dir=(1, 0, 0), z_dir=(0, 1, 0))):
        with Locations((4.25, 95.75), (95.75, 4.25)):
            Hole(TAP_DRILL_FOR_8_32_TAP1_D / 2, depth=TAP_DRILL_FOR_8_32_TAP1_DEPTH)
            with Locations((0, 0, -(TAP_DRILL_FOR_8_32_TAP1_DEPTH + TAP_DRILL_FOR_8_32_TAP1_TIP / 2))):  # 118° drill point
                Cone(0, TAP_DRILL_FOR_8_32_TAP1_D / 2, TAP_DRILL_FOR_8_32_TAP1_TIP, mode=Mode.SUBTRACT)

    # Sketch27 → Cut-Extrude4 (cut)
    with BuildSketch(Plane(origin=(0, 15, 0), x_dir=(1, 0, 0), z_dir=(0, 1, 0))):
        with Locations(Location((95.75, 95.75, 0), (0, 0, 270))):
            Circle(SKETCH27_R)
        with Locations(Location((4.25, 4.25, 0), (0, 0, 270))):
            Circle(SKETCH27_R)
    extrude(amount=-CUT_EXTRUDE4_DEPTH, mode=Mode.SUBTRACT)

    # Sketch28 → Cut-Extrude5 (cut)
    with BuildSketch(Plane(origin=(0, 12.968, 0), x_dir=(1, 0, 0), z_dir=(0, 1, 0))):
        with Locations(Location((95.75, 95.75, 0), (0, 0, 270))):
            Circle(SKETCH28_R)
        with Locations(Location((4.25, 4.25, 0), (0, 0, 270))):
            Circle(SKETCH28_R)
    extrude(amount=-CUT_EXTRUDE5_DEPTH, mode=Mode.SUBTRACT)

    # #4 Clearance Hole1 (through all)
    with Locations(Plane(origin=(0, 8.65, 0), x_dir=(1, 0, 0), z_dir=(0, 1, 0))):
        with Locations((4.25, 4.25), (95.75, 95.75)):
            Hole(F_4_CLEARANCE_HOLE1_D / 2)


solid = part.part
